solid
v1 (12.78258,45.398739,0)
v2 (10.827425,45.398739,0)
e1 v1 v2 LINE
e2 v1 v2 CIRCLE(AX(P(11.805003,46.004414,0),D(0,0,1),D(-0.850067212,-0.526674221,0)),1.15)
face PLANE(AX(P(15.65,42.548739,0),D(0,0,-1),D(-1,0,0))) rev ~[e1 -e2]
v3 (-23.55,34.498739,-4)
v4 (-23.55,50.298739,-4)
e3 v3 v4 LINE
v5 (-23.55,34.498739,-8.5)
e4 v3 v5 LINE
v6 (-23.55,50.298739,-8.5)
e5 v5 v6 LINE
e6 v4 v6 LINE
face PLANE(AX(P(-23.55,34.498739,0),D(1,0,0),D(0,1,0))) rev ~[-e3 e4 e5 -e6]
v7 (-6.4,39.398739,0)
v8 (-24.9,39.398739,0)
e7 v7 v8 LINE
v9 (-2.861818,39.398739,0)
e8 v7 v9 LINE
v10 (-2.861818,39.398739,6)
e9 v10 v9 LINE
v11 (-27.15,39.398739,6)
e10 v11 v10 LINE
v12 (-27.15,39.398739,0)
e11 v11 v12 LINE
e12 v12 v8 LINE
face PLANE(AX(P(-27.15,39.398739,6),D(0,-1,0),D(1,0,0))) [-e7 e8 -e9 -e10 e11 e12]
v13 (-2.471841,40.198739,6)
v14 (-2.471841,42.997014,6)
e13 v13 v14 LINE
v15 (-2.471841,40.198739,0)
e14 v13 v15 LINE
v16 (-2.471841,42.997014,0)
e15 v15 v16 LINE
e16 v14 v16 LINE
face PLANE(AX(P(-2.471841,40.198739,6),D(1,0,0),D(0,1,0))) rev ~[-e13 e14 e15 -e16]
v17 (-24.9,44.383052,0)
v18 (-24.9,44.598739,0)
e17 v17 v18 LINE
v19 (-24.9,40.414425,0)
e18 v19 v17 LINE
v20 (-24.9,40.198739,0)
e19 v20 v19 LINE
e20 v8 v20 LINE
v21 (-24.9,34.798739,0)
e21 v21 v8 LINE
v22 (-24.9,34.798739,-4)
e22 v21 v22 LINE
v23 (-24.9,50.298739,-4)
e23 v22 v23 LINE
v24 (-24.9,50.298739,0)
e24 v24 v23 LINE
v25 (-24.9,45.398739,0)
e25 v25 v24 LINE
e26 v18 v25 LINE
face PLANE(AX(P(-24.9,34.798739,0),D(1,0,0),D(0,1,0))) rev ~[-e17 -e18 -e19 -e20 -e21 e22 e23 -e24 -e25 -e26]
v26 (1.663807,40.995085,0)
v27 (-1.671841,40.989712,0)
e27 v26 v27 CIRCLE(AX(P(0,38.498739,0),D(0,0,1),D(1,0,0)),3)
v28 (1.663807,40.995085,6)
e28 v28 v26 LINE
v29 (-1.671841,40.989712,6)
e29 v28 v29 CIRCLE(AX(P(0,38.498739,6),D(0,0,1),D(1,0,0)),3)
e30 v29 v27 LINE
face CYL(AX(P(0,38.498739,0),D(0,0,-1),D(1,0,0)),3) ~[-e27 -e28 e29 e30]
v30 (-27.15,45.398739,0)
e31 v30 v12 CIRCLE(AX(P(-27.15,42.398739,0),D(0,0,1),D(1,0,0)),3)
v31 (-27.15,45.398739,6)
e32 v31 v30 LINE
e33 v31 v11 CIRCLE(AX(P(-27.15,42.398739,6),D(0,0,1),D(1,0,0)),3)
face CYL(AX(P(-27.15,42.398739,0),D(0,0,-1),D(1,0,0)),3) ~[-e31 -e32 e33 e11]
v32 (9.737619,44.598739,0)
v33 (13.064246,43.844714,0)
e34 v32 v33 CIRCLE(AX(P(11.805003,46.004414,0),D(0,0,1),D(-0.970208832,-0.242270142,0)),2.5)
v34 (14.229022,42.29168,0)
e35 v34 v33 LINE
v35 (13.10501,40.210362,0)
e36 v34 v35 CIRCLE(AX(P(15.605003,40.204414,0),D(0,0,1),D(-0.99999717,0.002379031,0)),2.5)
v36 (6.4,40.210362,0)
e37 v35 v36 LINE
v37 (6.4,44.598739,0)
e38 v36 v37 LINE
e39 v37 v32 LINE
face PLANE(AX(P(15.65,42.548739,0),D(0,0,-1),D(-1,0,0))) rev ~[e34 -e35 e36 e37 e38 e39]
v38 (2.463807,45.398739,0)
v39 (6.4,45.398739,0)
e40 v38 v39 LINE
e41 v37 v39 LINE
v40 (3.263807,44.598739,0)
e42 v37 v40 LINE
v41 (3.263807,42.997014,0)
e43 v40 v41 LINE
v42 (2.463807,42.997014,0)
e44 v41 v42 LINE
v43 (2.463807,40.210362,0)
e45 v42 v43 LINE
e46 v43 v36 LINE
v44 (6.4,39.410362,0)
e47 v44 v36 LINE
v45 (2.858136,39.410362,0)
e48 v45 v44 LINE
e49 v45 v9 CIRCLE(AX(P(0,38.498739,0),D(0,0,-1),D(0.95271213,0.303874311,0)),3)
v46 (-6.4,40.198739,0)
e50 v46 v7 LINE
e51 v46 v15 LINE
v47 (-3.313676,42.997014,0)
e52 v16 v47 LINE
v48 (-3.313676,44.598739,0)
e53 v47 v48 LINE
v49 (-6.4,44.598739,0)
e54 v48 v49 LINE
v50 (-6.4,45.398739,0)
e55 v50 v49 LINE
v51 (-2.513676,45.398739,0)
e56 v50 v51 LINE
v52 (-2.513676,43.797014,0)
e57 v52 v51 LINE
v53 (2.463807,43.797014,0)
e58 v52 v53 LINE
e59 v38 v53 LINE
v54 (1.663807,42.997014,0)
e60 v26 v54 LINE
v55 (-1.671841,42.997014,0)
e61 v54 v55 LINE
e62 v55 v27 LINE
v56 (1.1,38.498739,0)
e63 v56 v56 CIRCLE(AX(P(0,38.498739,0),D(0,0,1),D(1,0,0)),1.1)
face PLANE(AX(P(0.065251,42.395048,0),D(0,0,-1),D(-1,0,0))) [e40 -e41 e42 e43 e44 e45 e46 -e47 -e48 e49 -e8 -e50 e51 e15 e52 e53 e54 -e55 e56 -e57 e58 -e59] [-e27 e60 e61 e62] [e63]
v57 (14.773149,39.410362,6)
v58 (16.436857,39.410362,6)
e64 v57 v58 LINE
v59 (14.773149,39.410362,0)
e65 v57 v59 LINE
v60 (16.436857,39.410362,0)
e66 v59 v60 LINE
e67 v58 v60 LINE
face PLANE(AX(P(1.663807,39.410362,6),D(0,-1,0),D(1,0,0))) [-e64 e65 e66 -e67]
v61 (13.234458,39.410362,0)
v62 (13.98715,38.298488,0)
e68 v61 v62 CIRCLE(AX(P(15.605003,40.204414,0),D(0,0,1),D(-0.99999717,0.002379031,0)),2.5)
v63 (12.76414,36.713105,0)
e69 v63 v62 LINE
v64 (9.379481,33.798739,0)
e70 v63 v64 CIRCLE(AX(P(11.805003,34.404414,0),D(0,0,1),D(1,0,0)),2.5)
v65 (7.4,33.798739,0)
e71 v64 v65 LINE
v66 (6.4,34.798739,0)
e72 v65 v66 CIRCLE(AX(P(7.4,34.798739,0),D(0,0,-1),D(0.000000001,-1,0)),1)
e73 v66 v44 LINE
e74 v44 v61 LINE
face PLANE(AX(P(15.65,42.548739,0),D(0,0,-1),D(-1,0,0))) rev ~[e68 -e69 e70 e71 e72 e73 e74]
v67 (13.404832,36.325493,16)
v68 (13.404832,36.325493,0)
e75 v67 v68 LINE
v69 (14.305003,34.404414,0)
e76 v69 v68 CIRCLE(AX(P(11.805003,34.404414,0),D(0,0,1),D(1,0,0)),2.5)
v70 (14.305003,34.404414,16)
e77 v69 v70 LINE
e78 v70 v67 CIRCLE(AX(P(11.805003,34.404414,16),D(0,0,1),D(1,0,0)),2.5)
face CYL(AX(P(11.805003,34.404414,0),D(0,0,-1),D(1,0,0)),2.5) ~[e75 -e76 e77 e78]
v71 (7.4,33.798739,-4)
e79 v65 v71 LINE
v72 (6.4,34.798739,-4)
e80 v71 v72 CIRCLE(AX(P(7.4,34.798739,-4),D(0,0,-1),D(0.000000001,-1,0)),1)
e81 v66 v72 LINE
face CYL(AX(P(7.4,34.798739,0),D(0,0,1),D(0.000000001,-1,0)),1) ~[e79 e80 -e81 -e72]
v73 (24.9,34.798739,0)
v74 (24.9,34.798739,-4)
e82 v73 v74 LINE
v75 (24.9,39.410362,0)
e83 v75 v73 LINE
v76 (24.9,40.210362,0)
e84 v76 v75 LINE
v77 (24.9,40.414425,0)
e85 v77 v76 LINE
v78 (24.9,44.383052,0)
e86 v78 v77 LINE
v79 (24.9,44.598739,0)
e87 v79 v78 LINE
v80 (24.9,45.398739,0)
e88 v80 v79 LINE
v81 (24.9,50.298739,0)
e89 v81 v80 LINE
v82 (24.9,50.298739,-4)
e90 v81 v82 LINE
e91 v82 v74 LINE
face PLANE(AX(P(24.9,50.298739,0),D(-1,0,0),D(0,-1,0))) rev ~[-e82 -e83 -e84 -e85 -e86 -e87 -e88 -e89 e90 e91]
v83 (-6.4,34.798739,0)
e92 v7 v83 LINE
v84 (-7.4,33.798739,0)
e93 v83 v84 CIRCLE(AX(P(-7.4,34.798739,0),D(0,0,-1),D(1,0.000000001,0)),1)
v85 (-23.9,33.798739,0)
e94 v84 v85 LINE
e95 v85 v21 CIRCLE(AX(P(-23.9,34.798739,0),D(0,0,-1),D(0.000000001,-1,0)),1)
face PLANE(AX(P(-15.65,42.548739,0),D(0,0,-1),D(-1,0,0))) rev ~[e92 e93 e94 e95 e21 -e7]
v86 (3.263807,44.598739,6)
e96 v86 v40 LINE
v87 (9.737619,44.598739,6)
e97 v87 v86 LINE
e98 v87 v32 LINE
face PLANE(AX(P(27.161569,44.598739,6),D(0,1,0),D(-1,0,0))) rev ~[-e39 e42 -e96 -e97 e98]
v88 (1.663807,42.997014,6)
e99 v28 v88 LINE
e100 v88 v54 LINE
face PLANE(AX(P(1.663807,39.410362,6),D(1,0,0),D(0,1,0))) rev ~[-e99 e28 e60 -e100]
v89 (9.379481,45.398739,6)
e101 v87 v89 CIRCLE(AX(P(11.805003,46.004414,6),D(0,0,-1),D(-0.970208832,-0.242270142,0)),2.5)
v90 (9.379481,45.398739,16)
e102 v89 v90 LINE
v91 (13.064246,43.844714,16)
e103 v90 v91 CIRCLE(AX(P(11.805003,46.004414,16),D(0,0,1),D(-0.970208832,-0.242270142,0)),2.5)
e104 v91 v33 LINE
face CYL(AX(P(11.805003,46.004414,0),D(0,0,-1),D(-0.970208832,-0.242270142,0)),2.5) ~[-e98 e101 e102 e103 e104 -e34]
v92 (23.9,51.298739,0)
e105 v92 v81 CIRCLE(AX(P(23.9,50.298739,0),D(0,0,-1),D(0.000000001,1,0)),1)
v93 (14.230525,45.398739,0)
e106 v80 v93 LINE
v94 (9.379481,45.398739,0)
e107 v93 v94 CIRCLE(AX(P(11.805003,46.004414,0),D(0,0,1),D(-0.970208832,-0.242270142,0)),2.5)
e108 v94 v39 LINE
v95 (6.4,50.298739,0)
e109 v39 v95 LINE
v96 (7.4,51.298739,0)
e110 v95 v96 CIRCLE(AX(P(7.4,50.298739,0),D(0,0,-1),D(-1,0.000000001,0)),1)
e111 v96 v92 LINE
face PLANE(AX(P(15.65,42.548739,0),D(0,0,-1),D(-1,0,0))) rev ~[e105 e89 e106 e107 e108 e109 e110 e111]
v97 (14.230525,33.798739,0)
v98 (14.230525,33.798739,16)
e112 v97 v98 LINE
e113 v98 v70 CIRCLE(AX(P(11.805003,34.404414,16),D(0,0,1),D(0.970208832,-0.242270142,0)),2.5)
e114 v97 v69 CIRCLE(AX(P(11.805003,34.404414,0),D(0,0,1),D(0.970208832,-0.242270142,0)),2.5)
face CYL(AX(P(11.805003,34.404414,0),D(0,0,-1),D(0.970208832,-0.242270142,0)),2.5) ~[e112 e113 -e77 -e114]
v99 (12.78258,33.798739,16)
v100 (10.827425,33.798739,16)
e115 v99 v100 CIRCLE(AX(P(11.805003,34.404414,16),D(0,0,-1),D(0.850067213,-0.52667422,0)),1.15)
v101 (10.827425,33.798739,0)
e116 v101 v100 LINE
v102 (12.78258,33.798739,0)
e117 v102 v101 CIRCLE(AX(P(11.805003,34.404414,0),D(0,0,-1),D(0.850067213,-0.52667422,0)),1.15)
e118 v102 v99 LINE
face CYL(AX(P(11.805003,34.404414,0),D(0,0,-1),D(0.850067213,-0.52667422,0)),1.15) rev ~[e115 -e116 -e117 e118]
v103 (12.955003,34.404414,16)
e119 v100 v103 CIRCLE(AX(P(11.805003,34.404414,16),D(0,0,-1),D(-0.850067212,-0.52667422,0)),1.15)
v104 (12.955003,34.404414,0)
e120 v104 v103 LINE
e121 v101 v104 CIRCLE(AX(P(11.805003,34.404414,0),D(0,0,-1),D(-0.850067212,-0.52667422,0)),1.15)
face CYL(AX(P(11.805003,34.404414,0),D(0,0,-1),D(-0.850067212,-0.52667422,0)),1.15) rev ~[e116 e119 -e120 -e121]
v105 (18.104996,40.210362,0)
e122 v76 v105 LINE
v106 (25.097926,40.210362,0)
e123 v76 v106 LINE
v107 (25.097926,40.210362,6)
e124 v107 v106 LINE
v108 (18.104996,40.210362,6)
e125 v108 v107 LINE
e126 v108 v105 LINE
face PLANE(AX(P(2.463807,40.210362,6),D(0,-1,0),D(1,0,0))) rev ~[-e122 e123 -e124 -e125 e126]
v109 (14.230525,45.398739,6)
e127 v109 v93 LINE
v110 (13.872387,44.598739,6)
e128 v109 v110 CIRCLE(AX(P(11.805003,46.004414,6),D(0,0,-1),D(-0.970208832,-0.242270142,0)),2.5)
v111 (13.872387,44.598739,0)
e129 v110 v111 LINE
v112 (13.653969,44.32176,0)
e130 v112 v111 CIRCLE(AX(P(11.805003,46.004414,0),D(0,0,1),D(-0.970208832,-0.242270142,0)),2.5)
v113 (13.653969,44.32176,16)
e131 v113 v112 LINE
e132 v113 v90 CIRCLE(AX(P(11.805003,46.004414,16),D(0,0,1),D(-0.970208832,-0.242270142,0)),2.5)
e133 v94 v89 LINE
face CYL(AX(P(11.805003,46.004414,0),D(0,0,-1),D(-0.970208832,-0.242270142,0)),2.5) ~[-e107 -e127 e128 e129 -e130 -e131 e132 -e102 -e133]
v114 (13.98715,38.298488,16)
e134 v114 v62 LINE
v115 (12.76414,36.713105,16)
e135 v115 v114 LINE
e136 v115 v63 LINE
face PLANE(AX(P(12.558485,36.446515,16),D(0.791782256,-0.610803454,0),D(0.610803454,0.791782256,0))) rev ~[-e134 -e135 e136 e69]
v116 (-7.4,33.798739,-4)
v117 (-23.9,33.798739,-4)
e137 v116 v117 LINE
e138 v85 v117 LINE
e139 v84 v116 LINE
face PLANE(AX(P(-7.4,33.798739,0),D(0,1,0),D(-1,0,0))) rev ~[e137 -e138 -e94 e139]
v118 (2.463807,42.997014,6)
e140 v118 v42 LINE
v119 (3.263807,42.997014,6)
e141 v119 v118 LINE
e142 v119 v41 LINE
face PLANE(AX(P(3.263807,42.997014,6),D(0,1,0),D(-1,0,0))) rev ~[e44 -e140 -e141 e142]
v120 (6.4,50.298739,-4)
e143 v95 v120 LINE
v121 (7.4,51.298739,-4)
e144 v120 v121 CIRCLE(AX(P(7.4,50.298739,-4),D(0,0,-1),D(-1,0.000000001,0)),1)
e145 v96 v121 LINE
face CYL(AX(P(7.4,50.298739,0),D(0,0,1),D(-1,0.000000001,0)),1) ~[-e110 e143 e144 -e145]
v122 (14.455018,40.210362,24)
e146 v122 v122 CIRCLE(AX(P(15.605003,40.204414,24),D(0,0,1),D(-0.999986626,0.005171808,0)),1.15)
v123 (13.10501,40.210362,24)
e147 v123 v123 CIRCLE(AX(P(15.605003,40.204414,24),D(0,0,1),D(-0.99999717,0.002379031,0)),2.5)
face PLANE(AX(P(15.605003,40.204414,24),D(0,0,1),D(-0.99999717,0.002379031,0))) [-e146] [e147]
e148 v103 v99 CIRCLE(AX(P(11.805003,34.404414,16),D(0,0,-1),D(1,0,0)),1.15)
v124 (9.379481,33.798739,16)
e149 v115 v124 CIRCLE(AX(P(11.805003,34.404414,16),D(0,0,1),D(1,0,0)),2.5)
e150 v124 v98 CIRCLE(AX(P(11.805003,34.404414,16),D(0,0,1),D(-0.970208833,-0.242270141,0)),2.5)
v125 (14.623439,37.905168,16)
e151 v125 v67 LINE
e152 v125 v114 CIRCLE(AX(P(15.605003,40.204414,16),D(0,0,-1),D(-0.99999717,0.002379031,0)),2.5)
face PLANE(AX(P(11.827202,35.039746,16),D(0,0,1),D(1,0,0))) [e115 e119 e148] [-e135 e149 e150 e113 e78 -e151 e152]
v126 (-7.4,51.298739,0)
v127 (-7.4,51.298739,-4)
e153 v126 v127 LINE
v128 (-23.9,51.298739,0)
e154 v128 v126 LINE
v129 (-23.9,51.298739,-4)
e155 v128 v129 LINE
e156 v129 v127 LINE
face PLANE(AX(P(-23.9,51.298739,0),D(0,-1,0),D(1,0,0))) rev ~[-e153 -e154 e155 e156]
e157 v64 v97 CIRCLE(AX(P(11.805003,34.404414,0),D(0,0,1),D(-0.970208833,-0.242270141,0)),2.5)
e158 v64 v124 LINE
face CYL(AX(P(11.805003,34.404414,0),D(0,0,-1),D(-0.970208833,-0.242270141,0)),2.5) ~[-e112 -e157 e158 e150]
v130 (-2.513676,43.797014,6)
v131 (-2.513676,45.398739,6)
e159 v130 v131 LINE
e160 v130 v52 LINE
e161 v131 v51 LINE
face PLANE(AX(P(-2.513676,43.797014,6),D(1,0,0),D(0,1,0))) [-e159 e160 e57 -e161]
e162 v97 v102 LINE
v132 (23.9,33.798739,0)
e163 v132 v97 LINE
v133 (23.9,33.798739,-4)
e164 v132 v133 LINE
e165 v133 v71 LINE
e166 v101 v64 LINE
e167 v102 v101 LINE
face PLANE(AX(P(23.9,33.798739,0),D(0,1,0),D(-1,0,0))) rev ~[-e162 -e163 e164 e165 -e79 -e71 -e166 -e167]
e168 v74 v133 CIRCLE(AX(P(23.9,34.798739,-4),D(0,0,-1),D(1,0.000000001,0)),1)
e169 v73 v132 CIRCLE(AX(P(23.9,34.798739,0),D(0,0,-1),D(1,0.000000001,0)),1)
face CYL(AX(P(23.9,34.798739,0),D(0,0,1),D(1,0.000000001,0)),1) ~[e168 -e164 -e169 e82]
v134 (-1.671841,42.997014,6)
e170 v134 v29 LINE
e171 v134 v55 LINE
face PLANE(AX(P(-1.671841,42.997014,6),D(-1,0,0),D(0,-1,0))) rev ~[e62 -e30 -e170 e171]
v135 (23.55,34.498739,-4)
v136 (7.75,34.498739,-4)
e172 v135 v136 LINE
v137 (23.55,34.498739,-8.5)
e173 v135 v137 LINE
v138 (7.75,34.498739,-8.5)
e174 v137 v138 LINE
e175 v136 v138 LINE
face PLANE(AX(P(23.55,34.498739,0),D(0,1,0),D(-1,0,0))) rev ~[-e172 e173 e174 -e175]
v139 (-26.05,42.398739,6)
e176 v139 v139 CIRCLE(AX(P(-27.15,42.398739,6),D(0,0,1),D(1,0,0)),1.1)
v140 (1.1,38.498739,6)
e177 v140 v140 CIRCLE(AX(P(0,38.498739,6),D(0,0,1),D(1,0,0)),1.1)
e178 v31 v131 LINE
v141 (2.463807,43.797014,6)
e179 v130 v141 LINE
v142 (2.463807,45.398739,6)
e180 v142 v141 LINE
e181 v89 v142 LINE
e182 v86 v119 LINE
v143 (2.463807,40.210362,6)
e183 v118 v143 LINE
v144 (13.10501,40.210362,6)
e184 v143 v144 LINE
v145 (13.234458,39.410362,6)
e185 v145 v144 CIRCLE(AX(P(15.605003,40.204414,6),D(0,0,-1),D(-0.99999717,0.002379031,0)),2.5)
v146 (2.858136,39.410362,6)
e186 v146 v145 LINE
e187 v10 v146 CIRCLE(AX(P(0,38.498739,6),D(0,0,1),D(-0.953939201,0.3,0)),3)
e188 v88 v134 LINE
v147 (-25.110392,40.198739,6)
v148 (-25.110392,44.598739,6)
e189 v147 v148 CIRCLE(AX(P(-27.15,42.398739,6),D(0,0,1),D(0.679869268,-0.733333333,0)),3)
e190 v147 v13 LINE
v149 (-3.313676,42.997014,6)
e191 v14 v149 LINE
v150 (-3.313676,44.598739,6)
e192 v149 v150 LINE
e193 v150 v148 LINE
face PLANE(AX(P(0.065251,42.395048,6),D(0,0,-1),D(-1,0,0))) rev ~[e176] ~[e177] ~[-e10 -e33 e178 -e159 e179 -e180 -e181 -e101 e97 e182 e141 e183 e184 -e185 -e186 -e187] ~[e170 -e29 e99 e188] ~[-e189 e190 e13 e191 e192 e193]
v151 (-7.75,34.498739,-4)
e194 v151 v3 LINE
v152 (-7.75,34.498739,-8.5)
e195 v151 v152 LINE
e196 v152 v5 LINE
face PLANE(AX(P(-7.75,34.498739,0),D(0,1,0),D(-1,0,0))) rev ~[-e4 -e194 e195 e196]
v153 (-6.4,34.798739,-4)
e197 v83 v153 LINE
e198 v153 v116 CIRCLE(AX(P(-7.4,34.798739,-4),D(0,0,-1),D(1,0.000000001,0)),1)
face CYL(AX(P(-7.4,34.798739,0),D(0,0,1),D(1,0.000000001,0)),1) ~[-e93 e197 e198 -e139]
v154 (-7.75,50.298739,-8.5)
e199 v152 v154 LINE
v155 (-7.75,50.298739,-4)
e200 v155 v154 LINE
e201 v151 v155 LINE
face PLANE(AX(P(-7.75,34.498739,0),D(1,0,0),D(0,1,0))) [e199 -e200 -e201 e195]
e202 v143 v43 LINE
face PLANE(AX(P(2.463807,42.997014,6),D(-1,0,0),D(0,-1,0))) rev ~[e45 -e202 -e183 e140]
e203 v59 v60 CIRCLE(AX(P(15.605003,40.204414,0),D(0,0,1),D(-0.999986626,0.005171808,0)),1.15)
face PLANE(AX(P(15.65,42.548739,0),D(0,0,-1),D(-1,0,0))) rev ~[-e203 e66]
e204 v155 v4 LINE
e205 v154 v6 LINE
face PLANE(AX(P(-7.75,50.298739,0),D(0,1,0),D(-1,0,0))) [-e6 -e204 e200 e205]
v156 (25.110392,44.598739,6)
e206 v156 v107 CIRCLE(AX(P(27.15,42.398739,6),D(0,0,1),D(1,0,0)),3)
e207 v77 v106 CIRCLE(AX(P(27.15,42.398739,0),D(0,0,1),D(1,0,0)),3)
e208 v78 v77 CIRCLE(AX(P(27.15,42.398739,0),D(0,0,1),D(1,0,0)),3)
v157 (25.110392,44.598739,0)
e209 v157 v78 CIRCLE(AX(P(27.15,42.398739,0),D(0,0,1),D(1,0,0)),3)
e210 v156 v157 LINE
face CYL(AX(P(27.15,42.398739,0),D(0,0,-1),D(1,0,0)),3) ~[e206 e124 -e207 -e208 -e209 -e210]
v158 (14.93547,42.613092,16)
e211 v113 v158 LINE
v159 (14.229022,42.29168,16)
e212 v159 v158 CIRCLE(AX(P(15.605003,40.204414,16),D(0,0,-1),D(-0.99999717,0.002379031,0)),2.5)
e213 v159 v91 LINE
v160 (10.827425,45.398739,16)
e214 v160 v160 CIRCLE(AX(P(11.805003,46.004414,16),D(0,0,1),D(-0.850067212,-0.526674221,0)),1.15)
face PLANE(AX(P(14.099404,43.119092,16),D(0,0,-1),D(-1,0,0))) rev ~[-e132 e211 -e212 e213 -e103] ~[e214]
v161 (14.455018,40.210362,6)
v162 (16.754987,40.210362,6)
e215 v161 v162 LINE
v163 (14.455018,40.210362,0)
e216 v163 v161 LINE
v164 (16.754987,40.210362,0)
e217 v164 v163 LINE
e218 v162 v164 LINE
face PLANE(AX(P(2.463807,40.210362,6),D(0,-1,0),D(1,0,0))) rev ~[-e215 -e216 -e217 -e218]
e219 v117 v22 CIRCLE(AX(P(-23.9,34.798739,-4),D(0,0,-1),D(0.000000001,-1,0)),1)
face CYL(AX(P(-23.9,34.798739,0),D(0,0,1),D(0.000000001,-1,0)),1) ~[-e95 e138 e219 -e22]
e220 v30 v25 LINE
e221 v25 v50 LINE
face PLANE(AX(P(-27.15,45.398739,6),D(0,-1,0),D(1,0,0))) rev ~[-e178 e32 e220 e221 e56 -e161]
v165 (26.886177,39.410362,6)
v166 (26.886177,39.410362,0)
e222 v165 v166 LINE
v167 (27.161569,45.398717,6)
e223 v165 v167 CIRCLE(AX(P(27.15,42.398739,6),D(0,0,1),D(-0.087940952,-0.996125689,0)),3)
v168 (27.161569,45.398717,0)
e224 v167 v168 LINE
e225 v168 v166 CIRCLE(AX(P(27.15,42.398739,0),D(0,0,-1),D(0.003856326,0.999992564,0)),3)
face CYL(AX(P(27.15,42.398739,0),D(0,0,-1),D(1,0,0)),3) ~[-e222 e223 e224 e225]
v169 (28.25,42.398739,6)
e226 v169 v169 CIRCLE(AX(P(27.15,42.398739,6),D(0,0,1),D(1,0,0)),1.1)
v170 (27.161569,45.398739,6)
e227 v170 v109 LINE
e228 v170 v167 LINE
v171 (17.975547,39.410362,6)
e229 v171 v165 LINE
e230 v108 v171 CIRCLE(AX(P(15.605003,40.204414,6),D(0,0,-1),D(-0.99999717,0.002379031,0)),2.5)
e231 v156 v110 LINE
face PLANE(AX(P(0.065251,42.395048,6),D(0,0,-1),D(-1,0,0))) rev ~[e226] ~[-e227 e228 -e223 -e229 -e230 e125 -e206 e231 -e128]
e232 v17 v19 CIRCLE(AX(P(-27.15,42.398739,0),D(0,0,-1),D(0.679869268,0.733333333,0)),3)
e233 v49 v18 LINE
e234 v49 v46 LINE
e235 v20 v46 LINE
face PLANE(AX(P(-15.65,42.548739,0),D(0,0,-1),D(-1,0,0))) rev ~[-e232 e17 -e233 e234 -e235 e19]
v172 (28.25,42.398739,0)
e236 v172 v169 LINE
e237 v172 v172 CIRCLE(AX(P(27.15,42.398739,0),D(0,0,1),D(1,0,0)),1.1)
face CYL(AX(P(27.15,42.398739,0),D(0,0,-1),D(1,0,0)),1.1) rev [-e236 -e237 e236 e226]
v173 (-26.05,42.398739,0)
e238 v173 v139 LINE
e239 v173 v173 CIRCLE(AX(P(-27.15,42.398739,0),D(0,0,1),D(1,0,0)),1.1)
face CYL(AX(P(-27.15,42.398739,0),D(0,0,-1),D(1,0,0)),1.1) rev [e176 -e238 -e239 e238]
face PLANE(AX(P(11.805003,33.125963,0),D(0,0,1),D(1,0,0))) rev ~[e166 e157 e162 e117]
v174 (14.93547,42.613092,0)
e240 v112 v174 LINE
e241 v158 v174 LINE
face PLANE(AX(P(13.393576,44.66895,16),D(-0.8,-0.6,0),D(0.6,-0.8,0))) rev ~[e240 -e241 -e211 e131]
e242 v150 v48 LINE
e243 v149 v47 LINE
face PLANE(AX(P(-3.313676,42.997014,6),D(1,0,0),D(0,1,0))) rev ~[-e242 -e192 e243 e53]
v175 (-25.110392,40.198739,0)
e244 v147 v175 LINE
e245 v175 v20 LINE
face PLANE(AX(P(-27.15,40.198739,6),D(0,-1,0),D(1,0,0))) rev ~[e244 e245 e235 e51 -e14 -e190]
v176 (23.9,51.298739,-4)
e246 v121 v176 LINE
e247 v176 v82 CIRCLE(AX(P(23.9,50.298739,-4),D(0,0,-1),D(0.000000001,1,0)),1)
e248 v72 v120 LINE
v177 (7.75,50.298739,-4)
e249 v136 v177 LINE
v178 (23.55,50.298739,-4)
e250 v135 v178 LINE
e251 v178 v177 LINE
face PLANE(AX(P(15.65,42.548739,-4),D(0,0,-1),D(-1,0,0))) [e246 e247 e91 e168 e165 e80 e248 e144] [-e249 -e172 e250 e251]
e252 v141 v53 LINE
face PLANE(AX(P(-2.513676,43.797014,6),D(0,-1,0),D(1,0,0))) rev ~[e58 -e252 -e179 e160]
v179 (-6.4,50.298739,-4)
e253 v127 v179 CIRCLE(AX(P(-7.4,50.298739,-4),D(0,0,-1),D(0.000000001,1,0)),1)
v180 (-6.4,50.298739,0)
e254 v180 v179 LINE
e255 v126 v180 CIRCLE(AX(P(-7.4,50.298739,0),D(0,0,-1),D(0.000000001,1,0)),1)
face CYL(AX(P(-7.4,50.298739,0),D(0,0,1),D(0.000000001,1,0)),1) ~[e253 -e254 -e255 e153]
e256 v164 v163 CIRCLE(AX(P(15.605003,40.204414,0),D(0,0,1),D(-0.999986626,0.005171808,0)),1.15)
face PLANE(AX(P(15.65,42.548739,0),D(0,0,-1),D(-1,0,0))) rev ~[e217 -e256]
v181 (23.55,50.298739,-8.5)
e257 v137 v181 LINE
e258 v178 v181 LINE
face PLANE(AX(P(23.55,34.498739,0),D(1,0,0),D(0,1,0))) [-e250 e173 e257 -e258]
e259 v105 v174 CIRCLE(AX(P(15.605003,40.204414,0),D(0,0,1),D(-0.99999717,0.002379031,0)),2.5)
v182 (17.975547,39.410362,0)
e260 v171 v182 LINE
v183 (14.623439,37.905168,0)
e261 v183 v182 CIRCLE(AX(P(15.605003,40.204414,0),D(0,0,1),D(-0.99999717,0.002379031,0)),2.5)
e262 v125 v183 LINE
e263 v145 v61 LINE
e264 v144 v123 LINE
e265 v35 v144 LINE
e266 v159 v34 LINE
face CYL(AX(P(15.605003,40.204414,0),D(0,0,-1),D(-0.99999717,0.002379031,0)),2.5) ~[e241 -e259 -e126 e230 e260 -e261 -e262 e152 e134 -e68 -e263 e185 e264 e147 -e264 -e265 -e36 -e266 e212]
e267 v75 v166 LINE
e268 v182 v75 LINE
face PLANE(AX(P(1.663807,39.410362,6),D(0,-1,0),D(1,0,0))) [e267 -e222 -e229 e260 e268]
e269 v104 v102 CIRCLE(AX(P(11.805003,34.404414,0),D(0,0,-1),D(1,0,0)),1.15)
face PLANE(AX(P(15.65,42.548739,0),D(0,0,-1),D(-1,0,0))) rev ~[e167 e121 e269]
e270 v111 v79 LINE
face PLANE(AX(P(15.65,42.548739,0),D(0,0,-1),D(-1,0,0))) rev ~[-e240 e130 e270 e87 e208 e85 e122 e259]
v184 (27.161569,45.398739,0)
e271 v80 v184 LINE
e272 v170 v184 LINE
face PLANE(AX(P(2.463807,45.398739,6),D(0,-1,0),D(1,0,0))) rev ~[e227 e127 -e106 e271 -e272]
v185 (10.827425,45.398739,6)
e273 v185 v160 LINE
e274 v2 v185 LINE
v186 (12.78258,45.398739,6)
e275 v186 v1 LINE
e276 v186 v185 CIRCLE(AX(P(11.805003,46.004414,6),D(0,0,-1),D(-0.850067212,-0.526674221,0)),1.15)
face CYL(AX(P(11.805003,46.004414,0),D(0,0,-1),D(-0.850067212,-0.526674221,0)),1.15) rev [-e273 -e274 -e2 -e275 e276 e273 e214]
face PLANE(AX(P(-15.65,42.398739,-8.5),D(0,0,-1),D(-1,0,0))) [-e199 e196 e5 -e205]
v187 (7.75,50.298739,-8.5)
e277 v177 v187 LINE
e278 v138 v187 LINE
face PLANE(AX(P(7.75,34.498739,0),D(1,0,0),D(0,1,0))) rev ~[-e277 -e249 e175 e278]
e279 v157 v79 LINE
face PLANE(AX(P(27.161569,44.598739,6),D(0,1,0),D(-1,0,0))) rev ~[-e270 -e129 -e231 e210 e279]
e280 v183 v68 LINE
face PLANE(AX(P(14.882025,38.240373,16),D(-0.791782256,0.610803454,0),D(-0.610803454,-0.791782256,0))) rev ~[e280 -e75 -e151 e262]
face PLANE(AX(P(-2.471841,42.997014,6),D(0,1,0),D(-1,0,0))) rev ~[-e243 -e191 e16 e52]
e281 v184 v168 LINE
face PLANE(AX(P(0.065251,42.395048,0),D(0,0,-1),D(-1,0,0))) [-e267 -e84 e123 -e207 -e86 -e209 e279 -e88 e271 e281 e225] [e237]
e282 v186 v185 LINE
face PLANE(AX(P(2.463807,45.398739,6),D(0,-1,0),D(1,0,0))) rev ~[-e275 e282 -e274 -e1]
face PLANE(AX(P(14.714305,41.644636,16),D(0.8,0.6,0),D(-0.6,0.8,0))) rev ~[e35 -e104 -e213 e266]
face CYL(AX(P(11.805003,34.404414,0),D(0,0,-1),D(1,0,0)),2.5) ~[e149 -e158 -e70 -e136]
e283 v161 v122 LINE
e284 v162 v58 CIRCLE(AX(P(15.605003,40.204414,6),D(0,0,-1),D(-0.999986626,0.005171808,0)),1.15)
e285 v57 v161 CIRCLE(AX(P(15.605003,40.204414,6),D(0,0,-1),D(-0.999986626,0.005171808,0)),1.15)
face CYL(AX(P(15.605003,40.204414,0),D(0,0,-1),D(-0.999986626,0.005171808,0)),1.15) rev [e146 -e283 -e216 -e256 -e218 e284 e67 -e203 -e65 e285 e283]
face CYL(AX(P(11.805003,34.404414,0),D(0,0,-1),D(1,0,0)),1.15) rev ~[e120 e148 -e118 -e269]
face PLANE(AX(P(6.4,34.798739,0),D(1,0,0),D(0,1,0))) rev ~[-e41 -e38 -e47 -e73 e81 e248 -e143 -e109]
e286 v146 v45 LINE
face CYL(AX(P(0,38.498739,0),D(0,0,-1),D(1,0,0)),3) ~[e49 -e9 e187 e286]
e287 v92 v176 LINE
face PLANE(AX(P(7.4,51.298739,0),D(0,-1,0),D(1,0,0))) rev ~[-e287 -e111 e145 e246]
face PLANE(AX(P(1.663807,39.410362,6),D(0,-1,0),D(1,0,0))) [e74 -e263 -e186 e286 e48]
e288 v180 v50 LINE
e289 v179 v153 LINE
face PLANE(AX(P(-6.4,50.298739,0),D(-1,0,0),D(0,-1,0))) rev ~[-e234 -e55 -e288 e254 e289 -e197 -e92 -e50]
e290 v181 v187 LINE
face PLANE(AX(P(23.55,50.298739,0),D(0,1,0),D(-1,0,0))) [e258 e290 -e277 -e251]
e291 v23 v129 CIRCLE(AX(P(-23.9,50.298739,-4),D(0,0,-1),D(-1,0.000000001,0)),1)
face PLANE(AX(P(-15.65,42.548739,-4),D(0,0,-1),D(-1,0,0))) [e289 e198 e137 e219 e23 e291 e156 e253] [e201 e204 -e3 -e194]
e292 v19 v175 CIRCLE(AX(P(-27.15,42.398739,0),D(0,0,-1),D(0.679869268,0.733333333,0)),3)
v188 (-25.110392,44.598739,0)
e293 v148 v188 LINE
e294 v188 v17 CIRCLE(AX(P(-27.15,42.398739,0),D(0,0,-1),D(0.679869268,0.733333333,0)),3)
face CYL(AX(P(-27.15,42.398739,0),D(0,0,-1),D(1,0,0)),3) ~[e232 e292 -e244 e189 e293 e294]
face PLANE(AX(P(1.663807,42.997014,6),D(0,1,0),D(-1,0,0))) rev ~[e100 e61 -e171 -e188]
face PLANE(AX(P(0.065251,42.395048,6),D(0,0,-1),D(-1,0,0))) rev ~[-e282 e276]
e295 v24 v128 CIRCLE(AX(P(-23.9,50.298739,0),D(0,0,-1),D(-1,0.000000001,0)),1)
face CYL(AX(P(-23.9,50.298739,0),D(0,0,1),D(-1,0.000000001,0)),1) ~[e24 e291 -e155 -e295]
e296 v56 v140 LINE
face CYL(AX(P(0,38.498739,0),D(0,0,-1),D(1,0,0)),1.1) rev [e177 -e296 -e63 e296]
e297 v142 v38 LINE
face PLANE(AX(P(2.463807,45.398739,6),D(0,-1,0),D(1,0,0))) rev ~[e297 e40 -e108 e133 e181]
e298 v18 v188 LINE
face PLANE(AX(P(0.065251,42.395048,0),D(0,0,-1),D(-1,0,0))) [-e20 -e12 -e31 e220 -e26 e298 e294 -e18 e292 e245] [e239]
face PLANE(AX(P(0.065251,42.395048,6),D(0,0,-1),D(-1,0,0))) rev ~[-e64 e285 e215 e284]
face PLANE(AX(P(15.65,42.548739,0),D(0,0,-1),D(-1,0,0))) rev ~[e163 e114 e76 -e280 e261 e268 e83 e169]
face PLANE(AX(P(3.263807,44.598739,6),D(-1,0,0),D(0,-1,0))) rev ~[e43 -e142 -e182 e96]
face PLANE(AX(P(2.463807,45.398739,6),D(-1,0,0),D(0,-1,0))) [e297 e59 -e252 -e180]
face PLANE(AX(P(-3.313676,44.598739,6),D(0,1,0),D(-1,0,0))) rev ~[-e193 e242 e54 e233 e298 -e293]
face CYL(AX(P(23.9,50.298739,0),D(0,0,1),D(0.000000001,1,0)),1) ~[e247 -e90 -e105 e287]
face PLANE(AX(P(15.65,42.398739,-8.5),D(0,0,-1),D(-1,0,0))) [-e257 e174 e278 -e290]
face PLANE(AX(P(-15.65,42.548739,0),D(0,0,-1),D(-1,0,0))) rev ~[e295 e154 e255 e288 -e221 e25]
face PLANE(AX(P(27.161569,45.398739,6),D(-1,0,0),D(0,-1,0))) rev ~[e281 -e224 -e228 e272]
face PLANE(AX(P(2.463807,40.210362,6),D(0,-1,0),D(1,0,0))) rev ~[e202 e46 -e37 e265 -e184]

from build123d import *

# Parameters (mm, degrees)
ESQUISSE1_R        = 3
ESQUISSE1_R_2      = 1.1
EXTRUSION1_DEPTH   = 6
EXTRUSION1_2_DEPTH = 6
EXTRUSION1_3_DEPTH = 6
EXTRUSION2_DEPTH   = 6
ESQUISSE3_W        = 15.8
ESQUISSE3_H        = 15.8
EXTRUSION3_DEPTH   = 8.5
EXTRUSION4_DEPTH   = 4
ESQUISSE5_R        = 2.5
ESQUISSE5_R_2      = 1.15
EXTRUSION5_DEPTH   = 24
ESQUISSE6_R        = 2.5
ESQUISSE6_R_2      = 1.15
EXTRUSION6_DEPTH   = 16
EXTRUSION7_DEPTH   = 16


with BuildPart() as part:
    # Esquisse1 → Extrusion1 (new body)
    with BuildSketch(Plane.XY):
        with Locations((-27.15, 42.398738828)):
            Circle(ESQUISSE1_R)
        with Locations((-27.15, 42.398738828)):
            Circle(ESQUISSE1_R_2, mode=Mode.SUBTRACT)
    extrude(amount=EXTRUSION1_DEPTH)



with BuildPart() as body_2:
    # Esquisse1 → Extrusion1 2 (new body)
    with BuildSketch(Plane.XY):
        with Locations((0, 38.498738828)):
            Circle(ESQUISSE1_R)
        with Locations((0, 38.498738828)):
            Circle(ESQUISSE1_R_2, mode=Mode.SUBTRACT)
    extrude(amount=EXTRUSION1_2_DEPTH)


with BuildPart() as body_3:
    # Esquisse1 → Extrusion1 3 (new body)
    with BuildSketch(Plane.XY):
        with Locations((27.15, 42.398738828)):
            Circle(ESQUISSE1_R)
        with Locations((27.15, 42.398738828)):
            Circle(ESQUISSE1_R_2, mode=Mode.SUBTRACT)
    extrude(amount=EXTRUSION1_3_DEPTH)


with BuildPart() as part_1:
    add(part.part)

    add(body_2.part)  # Extrusion2 merges body 2

    add(body_3.part)  # Extrusion2 merges body 3
    # Esquisse2 → Extrusion2 (add)
    with BuildSketch(Plane.XY.offset(6)):
        Polygon((-27.15, 45.398738828), (-2.513675589, 45.398738828), (-2.513675589, 44.598738828), (-2.513675589, 43.7970137), (2.463807407, 43.7970137), (2.463807407, 44.724328248), (2.463807407, 45.398738828), (27.161568979, 45.398738828), (27.161568979, 44.598738828), (3.263807407, 44.598738828), (3.263807407, 42.9970137), (2.463807407, 42.9970137), (2.463807407, 40.21036176), (27.413822862, 40.21036176), (27.413822862, 39.41036176), (2.20772744, 39.41036176), (1.663807407, 39.41036176), (1.663807407, 42.9970137), (-1.671841419, 42.9970137), (-1.671841419, 39.398738828), (-2.471841419, 39.398738828), (-27.15, 39.398738828), (-27.15, 40.198738828), (-2.471841419, 40.198738828), (-2.471841419, 42.9970137), (-3.313675589, 42.9970137), (-3.313675589, 44.598738828), (-27.15, 44.598738828), align=None)
    extrude(amount=-EXTRUSION2_DEPTH)

    # Esquisse3 → Extrusion3 (add)
    with BuildSketch(Plane(origin=(0, 0, 0), x_dir=(-1, 0, 0), z_dir=(0, 0, -1))):
        with Locations((15.65, 42.398738828)):
            Rectangle(ESQUISSE3_W, ESQUISSE3_H)
        with Locations((-15.65, 42.398738828)):
            Rectangle(ESQUISSE3_W, ESQUISSE3_H)
    extrude(amount=EXTRUSION3_DEPTH)

    # Esquisse4 → Extrusion4 (add)
    with BuildSketch(Plane(origin=(0, 0, 0), x_dir=(-1, 0, 0), z_dir=(0, 0, -1))):
        with BuildLine():
            Line((7.4, 33.798738828), (23.9, 33.798738828))
            ThreePointArc((23.9, 33.798738828), (24.607106781, 34.091632046), (24.9, 34.798738828))
            Line((24.9, 34.798738828), (24.9, 50.298738828))
            ThreePointArc((24.9, 50.298738828), (24.607106781, 51.005845609), (23.9, 51.298738828))
            Line((23.9, 51.298738828), (7.4, 51.298738828))
            ThreePointArc((7.4, 51.298738828), (6.692893219, 51.005845609), (6.4, 50.298738828))
            Line((6.4, 50.298738828), (6.4, 34.798738828))
            ThreePointArc((6.4, 34.798738828), (6.692893219, 34.091632046), (7.4, 33.798738828))
        make_face()
        with BuildLine():
            Line((-6.4, 34.798738828), (-6.4, 50.298738828))
            ThreePointArc((-6.4, 50.298738828), (-6.692893219, 51.005845609), (-7.4, 51.298738828))
            Line((-7.4, 51.298738828), (-23.9, 51.298738828))
            ThreePointArc((-23.9, 51.298738828), (-24.607106781, 51.005845609), (-24.9, 50.298738828))
            Line((-24.9, 50.298738828), (-24.9, 34.798738828))
            ThreePointArc((-24.9, 34.798738828), (-24.607106781, 34.091632046), (-23.9, 33.798738828))
            Line((-23.9, 33.798738828), (-7.4, 33.798738828))
            ThreePointArc((-7.4, 33.798738828), (-6.692893219, 34.091632046), (-6.4, 34.798738828))
        make_face()
    extrude(amount=EXTRUSION4_DEPTH)

    # Esquisse5 → Extrusion5 (add)
    with BuildSketch(Plane.XY):
        with Locations(Location((15.605002706, 40.204414181, 0), (0, 0, 179.863691409))):
            Circle(ESQUISSE5_R)
        with Locations(Location((15.605002706, 40.204414181, 0), (0, 0, 179.703675934))):
            Circle(ESQUISSE5_R_2, mode=Mode.SUBTRACT)
    extrude(amount=EXTRUSION5_DEPTH)

    # Esquisse6 → Extrusion6 (add)
    # profile 1 of 5: a face of its own
    with BuildSketch(Plane.XY):
        with BuildLine():
            ThreePointArc((10.827425412, 33.798738828), (11.490132803, 35.510468856), (12.955002706, 34.404414181))
            ThreePointArc((12.955002706, 34.404414181), (12.911057381, 34.089544278), (12.78258, 33.798738828))
            Line((12.78258, 33.798738828), (14.230524787, 33.798738828))
            ThreePointArc((14.230524787, 33.798738828), (14.286313368, 34.099295518), (14.305002706, 34.404414181))
            ThreePointArc((14.305002706, 34.404414181), (11.499884043, 36.885724843), (9.379480625, 33.798738828))
            Line((9.379480625, 33.798738828), (10.827425412, 33.798738828))
        make_face()
    # profile 2 of 5: a face of its own
    with BuildSketch(Plane.XY):
        with BuildLine():
            ThreePointArc((12.78258, 33.798738828), (11.805002706, 33.254414181), (10.827425412, 33.798738828))
            Line((10.827425412, 33.798738828), (9.379480625, 33.798738828))
            ThreePointArc((9.379480625, 33.798738828), (11.805002706, 31.904414181), (14.230524787, 33.798738828))
            Line((14.230524787, 33.798738828), (12.78258, 33.798738828))
        make_face()
    # profile 3 of 5: a face of its own
    with BuildSketch(Plane.XY):
        with BuildLine():
            ThreePointArc((10.827425412, 33.798738828), (11.490132803, 35.510468856), (12.955002706, 34.404414181))
            ThreePointArc((12.955002706, 34.404414181), (12.911057381, 34.089544278), (12.78258, 33.798738828))
            Line((12.78258, 33.798738828), (14.230524787, 33.798738828))
            ThreePointArc((14.230524787, 33.798738828), (14.286313368, 34.099295518), (14.305002706, 34.404414181))
            ThreePointArc((14.305002706, 34.404414181), (11.499884043, 36.885724843), (9.379480625, 33.798738828))
            Line((9.379480625, 33.798738828), (10.827425412, 33.798738828))
        make_face()
    # profile 4 of 5: a face of its own
    with BuildSketch(Plane.XY):
        with BuildLine():
            ThreePointArc((12.78258, 33.798738828), (11.805002706, 33.254414181), (10.827425412, 33.798738828))
            Line((10.827425412, 33.798738828), (9.379480625, 33.798738828))
            ThreePointArc((9.379480625, 33.798738828), (11.805002706, 31.904414181), (14.230524787, 33.798738828))
            Line((14.230524787, 33.798738828), (12.78258, 33.798738828))
        make_face()
    # profile 5 of 5: a face of its own
    with BuildSketch(Plane.XY):
        with Locations(Location((11.805002706, 46.004414181, 0), (0, 0, 194.020564777))):
            Circle(ESQUISSE6_R)
        with Locations(Location((11.805002706, 46.004414181, 0), (0, 0, 211.781019499))):
            Circle(ESQUISSE6_R_2, mode=Mode.SUBTRACT)
    extrude(amount=EXTRUSION6_DEPTH)

    # Esquisse7 → Extrusion7 (add)
    with BuildSketch(Plane.XY.offset(16)):
        Polygon((12.558485139, 36.446515131), (14.292905081, 38.694837279), (14.882025317, 38.240373098), (12.955002706, 35.742380824), align=None)
        Polygon((13.393576222, 44.668950414), (15.320709492, 42.099439388), (14.71430489, 41.644635937), (12.955002706, 43.990372182), align=None)
    extrude(amount=-EXTRUSION7_DEPTH)


solid = part_1.part
